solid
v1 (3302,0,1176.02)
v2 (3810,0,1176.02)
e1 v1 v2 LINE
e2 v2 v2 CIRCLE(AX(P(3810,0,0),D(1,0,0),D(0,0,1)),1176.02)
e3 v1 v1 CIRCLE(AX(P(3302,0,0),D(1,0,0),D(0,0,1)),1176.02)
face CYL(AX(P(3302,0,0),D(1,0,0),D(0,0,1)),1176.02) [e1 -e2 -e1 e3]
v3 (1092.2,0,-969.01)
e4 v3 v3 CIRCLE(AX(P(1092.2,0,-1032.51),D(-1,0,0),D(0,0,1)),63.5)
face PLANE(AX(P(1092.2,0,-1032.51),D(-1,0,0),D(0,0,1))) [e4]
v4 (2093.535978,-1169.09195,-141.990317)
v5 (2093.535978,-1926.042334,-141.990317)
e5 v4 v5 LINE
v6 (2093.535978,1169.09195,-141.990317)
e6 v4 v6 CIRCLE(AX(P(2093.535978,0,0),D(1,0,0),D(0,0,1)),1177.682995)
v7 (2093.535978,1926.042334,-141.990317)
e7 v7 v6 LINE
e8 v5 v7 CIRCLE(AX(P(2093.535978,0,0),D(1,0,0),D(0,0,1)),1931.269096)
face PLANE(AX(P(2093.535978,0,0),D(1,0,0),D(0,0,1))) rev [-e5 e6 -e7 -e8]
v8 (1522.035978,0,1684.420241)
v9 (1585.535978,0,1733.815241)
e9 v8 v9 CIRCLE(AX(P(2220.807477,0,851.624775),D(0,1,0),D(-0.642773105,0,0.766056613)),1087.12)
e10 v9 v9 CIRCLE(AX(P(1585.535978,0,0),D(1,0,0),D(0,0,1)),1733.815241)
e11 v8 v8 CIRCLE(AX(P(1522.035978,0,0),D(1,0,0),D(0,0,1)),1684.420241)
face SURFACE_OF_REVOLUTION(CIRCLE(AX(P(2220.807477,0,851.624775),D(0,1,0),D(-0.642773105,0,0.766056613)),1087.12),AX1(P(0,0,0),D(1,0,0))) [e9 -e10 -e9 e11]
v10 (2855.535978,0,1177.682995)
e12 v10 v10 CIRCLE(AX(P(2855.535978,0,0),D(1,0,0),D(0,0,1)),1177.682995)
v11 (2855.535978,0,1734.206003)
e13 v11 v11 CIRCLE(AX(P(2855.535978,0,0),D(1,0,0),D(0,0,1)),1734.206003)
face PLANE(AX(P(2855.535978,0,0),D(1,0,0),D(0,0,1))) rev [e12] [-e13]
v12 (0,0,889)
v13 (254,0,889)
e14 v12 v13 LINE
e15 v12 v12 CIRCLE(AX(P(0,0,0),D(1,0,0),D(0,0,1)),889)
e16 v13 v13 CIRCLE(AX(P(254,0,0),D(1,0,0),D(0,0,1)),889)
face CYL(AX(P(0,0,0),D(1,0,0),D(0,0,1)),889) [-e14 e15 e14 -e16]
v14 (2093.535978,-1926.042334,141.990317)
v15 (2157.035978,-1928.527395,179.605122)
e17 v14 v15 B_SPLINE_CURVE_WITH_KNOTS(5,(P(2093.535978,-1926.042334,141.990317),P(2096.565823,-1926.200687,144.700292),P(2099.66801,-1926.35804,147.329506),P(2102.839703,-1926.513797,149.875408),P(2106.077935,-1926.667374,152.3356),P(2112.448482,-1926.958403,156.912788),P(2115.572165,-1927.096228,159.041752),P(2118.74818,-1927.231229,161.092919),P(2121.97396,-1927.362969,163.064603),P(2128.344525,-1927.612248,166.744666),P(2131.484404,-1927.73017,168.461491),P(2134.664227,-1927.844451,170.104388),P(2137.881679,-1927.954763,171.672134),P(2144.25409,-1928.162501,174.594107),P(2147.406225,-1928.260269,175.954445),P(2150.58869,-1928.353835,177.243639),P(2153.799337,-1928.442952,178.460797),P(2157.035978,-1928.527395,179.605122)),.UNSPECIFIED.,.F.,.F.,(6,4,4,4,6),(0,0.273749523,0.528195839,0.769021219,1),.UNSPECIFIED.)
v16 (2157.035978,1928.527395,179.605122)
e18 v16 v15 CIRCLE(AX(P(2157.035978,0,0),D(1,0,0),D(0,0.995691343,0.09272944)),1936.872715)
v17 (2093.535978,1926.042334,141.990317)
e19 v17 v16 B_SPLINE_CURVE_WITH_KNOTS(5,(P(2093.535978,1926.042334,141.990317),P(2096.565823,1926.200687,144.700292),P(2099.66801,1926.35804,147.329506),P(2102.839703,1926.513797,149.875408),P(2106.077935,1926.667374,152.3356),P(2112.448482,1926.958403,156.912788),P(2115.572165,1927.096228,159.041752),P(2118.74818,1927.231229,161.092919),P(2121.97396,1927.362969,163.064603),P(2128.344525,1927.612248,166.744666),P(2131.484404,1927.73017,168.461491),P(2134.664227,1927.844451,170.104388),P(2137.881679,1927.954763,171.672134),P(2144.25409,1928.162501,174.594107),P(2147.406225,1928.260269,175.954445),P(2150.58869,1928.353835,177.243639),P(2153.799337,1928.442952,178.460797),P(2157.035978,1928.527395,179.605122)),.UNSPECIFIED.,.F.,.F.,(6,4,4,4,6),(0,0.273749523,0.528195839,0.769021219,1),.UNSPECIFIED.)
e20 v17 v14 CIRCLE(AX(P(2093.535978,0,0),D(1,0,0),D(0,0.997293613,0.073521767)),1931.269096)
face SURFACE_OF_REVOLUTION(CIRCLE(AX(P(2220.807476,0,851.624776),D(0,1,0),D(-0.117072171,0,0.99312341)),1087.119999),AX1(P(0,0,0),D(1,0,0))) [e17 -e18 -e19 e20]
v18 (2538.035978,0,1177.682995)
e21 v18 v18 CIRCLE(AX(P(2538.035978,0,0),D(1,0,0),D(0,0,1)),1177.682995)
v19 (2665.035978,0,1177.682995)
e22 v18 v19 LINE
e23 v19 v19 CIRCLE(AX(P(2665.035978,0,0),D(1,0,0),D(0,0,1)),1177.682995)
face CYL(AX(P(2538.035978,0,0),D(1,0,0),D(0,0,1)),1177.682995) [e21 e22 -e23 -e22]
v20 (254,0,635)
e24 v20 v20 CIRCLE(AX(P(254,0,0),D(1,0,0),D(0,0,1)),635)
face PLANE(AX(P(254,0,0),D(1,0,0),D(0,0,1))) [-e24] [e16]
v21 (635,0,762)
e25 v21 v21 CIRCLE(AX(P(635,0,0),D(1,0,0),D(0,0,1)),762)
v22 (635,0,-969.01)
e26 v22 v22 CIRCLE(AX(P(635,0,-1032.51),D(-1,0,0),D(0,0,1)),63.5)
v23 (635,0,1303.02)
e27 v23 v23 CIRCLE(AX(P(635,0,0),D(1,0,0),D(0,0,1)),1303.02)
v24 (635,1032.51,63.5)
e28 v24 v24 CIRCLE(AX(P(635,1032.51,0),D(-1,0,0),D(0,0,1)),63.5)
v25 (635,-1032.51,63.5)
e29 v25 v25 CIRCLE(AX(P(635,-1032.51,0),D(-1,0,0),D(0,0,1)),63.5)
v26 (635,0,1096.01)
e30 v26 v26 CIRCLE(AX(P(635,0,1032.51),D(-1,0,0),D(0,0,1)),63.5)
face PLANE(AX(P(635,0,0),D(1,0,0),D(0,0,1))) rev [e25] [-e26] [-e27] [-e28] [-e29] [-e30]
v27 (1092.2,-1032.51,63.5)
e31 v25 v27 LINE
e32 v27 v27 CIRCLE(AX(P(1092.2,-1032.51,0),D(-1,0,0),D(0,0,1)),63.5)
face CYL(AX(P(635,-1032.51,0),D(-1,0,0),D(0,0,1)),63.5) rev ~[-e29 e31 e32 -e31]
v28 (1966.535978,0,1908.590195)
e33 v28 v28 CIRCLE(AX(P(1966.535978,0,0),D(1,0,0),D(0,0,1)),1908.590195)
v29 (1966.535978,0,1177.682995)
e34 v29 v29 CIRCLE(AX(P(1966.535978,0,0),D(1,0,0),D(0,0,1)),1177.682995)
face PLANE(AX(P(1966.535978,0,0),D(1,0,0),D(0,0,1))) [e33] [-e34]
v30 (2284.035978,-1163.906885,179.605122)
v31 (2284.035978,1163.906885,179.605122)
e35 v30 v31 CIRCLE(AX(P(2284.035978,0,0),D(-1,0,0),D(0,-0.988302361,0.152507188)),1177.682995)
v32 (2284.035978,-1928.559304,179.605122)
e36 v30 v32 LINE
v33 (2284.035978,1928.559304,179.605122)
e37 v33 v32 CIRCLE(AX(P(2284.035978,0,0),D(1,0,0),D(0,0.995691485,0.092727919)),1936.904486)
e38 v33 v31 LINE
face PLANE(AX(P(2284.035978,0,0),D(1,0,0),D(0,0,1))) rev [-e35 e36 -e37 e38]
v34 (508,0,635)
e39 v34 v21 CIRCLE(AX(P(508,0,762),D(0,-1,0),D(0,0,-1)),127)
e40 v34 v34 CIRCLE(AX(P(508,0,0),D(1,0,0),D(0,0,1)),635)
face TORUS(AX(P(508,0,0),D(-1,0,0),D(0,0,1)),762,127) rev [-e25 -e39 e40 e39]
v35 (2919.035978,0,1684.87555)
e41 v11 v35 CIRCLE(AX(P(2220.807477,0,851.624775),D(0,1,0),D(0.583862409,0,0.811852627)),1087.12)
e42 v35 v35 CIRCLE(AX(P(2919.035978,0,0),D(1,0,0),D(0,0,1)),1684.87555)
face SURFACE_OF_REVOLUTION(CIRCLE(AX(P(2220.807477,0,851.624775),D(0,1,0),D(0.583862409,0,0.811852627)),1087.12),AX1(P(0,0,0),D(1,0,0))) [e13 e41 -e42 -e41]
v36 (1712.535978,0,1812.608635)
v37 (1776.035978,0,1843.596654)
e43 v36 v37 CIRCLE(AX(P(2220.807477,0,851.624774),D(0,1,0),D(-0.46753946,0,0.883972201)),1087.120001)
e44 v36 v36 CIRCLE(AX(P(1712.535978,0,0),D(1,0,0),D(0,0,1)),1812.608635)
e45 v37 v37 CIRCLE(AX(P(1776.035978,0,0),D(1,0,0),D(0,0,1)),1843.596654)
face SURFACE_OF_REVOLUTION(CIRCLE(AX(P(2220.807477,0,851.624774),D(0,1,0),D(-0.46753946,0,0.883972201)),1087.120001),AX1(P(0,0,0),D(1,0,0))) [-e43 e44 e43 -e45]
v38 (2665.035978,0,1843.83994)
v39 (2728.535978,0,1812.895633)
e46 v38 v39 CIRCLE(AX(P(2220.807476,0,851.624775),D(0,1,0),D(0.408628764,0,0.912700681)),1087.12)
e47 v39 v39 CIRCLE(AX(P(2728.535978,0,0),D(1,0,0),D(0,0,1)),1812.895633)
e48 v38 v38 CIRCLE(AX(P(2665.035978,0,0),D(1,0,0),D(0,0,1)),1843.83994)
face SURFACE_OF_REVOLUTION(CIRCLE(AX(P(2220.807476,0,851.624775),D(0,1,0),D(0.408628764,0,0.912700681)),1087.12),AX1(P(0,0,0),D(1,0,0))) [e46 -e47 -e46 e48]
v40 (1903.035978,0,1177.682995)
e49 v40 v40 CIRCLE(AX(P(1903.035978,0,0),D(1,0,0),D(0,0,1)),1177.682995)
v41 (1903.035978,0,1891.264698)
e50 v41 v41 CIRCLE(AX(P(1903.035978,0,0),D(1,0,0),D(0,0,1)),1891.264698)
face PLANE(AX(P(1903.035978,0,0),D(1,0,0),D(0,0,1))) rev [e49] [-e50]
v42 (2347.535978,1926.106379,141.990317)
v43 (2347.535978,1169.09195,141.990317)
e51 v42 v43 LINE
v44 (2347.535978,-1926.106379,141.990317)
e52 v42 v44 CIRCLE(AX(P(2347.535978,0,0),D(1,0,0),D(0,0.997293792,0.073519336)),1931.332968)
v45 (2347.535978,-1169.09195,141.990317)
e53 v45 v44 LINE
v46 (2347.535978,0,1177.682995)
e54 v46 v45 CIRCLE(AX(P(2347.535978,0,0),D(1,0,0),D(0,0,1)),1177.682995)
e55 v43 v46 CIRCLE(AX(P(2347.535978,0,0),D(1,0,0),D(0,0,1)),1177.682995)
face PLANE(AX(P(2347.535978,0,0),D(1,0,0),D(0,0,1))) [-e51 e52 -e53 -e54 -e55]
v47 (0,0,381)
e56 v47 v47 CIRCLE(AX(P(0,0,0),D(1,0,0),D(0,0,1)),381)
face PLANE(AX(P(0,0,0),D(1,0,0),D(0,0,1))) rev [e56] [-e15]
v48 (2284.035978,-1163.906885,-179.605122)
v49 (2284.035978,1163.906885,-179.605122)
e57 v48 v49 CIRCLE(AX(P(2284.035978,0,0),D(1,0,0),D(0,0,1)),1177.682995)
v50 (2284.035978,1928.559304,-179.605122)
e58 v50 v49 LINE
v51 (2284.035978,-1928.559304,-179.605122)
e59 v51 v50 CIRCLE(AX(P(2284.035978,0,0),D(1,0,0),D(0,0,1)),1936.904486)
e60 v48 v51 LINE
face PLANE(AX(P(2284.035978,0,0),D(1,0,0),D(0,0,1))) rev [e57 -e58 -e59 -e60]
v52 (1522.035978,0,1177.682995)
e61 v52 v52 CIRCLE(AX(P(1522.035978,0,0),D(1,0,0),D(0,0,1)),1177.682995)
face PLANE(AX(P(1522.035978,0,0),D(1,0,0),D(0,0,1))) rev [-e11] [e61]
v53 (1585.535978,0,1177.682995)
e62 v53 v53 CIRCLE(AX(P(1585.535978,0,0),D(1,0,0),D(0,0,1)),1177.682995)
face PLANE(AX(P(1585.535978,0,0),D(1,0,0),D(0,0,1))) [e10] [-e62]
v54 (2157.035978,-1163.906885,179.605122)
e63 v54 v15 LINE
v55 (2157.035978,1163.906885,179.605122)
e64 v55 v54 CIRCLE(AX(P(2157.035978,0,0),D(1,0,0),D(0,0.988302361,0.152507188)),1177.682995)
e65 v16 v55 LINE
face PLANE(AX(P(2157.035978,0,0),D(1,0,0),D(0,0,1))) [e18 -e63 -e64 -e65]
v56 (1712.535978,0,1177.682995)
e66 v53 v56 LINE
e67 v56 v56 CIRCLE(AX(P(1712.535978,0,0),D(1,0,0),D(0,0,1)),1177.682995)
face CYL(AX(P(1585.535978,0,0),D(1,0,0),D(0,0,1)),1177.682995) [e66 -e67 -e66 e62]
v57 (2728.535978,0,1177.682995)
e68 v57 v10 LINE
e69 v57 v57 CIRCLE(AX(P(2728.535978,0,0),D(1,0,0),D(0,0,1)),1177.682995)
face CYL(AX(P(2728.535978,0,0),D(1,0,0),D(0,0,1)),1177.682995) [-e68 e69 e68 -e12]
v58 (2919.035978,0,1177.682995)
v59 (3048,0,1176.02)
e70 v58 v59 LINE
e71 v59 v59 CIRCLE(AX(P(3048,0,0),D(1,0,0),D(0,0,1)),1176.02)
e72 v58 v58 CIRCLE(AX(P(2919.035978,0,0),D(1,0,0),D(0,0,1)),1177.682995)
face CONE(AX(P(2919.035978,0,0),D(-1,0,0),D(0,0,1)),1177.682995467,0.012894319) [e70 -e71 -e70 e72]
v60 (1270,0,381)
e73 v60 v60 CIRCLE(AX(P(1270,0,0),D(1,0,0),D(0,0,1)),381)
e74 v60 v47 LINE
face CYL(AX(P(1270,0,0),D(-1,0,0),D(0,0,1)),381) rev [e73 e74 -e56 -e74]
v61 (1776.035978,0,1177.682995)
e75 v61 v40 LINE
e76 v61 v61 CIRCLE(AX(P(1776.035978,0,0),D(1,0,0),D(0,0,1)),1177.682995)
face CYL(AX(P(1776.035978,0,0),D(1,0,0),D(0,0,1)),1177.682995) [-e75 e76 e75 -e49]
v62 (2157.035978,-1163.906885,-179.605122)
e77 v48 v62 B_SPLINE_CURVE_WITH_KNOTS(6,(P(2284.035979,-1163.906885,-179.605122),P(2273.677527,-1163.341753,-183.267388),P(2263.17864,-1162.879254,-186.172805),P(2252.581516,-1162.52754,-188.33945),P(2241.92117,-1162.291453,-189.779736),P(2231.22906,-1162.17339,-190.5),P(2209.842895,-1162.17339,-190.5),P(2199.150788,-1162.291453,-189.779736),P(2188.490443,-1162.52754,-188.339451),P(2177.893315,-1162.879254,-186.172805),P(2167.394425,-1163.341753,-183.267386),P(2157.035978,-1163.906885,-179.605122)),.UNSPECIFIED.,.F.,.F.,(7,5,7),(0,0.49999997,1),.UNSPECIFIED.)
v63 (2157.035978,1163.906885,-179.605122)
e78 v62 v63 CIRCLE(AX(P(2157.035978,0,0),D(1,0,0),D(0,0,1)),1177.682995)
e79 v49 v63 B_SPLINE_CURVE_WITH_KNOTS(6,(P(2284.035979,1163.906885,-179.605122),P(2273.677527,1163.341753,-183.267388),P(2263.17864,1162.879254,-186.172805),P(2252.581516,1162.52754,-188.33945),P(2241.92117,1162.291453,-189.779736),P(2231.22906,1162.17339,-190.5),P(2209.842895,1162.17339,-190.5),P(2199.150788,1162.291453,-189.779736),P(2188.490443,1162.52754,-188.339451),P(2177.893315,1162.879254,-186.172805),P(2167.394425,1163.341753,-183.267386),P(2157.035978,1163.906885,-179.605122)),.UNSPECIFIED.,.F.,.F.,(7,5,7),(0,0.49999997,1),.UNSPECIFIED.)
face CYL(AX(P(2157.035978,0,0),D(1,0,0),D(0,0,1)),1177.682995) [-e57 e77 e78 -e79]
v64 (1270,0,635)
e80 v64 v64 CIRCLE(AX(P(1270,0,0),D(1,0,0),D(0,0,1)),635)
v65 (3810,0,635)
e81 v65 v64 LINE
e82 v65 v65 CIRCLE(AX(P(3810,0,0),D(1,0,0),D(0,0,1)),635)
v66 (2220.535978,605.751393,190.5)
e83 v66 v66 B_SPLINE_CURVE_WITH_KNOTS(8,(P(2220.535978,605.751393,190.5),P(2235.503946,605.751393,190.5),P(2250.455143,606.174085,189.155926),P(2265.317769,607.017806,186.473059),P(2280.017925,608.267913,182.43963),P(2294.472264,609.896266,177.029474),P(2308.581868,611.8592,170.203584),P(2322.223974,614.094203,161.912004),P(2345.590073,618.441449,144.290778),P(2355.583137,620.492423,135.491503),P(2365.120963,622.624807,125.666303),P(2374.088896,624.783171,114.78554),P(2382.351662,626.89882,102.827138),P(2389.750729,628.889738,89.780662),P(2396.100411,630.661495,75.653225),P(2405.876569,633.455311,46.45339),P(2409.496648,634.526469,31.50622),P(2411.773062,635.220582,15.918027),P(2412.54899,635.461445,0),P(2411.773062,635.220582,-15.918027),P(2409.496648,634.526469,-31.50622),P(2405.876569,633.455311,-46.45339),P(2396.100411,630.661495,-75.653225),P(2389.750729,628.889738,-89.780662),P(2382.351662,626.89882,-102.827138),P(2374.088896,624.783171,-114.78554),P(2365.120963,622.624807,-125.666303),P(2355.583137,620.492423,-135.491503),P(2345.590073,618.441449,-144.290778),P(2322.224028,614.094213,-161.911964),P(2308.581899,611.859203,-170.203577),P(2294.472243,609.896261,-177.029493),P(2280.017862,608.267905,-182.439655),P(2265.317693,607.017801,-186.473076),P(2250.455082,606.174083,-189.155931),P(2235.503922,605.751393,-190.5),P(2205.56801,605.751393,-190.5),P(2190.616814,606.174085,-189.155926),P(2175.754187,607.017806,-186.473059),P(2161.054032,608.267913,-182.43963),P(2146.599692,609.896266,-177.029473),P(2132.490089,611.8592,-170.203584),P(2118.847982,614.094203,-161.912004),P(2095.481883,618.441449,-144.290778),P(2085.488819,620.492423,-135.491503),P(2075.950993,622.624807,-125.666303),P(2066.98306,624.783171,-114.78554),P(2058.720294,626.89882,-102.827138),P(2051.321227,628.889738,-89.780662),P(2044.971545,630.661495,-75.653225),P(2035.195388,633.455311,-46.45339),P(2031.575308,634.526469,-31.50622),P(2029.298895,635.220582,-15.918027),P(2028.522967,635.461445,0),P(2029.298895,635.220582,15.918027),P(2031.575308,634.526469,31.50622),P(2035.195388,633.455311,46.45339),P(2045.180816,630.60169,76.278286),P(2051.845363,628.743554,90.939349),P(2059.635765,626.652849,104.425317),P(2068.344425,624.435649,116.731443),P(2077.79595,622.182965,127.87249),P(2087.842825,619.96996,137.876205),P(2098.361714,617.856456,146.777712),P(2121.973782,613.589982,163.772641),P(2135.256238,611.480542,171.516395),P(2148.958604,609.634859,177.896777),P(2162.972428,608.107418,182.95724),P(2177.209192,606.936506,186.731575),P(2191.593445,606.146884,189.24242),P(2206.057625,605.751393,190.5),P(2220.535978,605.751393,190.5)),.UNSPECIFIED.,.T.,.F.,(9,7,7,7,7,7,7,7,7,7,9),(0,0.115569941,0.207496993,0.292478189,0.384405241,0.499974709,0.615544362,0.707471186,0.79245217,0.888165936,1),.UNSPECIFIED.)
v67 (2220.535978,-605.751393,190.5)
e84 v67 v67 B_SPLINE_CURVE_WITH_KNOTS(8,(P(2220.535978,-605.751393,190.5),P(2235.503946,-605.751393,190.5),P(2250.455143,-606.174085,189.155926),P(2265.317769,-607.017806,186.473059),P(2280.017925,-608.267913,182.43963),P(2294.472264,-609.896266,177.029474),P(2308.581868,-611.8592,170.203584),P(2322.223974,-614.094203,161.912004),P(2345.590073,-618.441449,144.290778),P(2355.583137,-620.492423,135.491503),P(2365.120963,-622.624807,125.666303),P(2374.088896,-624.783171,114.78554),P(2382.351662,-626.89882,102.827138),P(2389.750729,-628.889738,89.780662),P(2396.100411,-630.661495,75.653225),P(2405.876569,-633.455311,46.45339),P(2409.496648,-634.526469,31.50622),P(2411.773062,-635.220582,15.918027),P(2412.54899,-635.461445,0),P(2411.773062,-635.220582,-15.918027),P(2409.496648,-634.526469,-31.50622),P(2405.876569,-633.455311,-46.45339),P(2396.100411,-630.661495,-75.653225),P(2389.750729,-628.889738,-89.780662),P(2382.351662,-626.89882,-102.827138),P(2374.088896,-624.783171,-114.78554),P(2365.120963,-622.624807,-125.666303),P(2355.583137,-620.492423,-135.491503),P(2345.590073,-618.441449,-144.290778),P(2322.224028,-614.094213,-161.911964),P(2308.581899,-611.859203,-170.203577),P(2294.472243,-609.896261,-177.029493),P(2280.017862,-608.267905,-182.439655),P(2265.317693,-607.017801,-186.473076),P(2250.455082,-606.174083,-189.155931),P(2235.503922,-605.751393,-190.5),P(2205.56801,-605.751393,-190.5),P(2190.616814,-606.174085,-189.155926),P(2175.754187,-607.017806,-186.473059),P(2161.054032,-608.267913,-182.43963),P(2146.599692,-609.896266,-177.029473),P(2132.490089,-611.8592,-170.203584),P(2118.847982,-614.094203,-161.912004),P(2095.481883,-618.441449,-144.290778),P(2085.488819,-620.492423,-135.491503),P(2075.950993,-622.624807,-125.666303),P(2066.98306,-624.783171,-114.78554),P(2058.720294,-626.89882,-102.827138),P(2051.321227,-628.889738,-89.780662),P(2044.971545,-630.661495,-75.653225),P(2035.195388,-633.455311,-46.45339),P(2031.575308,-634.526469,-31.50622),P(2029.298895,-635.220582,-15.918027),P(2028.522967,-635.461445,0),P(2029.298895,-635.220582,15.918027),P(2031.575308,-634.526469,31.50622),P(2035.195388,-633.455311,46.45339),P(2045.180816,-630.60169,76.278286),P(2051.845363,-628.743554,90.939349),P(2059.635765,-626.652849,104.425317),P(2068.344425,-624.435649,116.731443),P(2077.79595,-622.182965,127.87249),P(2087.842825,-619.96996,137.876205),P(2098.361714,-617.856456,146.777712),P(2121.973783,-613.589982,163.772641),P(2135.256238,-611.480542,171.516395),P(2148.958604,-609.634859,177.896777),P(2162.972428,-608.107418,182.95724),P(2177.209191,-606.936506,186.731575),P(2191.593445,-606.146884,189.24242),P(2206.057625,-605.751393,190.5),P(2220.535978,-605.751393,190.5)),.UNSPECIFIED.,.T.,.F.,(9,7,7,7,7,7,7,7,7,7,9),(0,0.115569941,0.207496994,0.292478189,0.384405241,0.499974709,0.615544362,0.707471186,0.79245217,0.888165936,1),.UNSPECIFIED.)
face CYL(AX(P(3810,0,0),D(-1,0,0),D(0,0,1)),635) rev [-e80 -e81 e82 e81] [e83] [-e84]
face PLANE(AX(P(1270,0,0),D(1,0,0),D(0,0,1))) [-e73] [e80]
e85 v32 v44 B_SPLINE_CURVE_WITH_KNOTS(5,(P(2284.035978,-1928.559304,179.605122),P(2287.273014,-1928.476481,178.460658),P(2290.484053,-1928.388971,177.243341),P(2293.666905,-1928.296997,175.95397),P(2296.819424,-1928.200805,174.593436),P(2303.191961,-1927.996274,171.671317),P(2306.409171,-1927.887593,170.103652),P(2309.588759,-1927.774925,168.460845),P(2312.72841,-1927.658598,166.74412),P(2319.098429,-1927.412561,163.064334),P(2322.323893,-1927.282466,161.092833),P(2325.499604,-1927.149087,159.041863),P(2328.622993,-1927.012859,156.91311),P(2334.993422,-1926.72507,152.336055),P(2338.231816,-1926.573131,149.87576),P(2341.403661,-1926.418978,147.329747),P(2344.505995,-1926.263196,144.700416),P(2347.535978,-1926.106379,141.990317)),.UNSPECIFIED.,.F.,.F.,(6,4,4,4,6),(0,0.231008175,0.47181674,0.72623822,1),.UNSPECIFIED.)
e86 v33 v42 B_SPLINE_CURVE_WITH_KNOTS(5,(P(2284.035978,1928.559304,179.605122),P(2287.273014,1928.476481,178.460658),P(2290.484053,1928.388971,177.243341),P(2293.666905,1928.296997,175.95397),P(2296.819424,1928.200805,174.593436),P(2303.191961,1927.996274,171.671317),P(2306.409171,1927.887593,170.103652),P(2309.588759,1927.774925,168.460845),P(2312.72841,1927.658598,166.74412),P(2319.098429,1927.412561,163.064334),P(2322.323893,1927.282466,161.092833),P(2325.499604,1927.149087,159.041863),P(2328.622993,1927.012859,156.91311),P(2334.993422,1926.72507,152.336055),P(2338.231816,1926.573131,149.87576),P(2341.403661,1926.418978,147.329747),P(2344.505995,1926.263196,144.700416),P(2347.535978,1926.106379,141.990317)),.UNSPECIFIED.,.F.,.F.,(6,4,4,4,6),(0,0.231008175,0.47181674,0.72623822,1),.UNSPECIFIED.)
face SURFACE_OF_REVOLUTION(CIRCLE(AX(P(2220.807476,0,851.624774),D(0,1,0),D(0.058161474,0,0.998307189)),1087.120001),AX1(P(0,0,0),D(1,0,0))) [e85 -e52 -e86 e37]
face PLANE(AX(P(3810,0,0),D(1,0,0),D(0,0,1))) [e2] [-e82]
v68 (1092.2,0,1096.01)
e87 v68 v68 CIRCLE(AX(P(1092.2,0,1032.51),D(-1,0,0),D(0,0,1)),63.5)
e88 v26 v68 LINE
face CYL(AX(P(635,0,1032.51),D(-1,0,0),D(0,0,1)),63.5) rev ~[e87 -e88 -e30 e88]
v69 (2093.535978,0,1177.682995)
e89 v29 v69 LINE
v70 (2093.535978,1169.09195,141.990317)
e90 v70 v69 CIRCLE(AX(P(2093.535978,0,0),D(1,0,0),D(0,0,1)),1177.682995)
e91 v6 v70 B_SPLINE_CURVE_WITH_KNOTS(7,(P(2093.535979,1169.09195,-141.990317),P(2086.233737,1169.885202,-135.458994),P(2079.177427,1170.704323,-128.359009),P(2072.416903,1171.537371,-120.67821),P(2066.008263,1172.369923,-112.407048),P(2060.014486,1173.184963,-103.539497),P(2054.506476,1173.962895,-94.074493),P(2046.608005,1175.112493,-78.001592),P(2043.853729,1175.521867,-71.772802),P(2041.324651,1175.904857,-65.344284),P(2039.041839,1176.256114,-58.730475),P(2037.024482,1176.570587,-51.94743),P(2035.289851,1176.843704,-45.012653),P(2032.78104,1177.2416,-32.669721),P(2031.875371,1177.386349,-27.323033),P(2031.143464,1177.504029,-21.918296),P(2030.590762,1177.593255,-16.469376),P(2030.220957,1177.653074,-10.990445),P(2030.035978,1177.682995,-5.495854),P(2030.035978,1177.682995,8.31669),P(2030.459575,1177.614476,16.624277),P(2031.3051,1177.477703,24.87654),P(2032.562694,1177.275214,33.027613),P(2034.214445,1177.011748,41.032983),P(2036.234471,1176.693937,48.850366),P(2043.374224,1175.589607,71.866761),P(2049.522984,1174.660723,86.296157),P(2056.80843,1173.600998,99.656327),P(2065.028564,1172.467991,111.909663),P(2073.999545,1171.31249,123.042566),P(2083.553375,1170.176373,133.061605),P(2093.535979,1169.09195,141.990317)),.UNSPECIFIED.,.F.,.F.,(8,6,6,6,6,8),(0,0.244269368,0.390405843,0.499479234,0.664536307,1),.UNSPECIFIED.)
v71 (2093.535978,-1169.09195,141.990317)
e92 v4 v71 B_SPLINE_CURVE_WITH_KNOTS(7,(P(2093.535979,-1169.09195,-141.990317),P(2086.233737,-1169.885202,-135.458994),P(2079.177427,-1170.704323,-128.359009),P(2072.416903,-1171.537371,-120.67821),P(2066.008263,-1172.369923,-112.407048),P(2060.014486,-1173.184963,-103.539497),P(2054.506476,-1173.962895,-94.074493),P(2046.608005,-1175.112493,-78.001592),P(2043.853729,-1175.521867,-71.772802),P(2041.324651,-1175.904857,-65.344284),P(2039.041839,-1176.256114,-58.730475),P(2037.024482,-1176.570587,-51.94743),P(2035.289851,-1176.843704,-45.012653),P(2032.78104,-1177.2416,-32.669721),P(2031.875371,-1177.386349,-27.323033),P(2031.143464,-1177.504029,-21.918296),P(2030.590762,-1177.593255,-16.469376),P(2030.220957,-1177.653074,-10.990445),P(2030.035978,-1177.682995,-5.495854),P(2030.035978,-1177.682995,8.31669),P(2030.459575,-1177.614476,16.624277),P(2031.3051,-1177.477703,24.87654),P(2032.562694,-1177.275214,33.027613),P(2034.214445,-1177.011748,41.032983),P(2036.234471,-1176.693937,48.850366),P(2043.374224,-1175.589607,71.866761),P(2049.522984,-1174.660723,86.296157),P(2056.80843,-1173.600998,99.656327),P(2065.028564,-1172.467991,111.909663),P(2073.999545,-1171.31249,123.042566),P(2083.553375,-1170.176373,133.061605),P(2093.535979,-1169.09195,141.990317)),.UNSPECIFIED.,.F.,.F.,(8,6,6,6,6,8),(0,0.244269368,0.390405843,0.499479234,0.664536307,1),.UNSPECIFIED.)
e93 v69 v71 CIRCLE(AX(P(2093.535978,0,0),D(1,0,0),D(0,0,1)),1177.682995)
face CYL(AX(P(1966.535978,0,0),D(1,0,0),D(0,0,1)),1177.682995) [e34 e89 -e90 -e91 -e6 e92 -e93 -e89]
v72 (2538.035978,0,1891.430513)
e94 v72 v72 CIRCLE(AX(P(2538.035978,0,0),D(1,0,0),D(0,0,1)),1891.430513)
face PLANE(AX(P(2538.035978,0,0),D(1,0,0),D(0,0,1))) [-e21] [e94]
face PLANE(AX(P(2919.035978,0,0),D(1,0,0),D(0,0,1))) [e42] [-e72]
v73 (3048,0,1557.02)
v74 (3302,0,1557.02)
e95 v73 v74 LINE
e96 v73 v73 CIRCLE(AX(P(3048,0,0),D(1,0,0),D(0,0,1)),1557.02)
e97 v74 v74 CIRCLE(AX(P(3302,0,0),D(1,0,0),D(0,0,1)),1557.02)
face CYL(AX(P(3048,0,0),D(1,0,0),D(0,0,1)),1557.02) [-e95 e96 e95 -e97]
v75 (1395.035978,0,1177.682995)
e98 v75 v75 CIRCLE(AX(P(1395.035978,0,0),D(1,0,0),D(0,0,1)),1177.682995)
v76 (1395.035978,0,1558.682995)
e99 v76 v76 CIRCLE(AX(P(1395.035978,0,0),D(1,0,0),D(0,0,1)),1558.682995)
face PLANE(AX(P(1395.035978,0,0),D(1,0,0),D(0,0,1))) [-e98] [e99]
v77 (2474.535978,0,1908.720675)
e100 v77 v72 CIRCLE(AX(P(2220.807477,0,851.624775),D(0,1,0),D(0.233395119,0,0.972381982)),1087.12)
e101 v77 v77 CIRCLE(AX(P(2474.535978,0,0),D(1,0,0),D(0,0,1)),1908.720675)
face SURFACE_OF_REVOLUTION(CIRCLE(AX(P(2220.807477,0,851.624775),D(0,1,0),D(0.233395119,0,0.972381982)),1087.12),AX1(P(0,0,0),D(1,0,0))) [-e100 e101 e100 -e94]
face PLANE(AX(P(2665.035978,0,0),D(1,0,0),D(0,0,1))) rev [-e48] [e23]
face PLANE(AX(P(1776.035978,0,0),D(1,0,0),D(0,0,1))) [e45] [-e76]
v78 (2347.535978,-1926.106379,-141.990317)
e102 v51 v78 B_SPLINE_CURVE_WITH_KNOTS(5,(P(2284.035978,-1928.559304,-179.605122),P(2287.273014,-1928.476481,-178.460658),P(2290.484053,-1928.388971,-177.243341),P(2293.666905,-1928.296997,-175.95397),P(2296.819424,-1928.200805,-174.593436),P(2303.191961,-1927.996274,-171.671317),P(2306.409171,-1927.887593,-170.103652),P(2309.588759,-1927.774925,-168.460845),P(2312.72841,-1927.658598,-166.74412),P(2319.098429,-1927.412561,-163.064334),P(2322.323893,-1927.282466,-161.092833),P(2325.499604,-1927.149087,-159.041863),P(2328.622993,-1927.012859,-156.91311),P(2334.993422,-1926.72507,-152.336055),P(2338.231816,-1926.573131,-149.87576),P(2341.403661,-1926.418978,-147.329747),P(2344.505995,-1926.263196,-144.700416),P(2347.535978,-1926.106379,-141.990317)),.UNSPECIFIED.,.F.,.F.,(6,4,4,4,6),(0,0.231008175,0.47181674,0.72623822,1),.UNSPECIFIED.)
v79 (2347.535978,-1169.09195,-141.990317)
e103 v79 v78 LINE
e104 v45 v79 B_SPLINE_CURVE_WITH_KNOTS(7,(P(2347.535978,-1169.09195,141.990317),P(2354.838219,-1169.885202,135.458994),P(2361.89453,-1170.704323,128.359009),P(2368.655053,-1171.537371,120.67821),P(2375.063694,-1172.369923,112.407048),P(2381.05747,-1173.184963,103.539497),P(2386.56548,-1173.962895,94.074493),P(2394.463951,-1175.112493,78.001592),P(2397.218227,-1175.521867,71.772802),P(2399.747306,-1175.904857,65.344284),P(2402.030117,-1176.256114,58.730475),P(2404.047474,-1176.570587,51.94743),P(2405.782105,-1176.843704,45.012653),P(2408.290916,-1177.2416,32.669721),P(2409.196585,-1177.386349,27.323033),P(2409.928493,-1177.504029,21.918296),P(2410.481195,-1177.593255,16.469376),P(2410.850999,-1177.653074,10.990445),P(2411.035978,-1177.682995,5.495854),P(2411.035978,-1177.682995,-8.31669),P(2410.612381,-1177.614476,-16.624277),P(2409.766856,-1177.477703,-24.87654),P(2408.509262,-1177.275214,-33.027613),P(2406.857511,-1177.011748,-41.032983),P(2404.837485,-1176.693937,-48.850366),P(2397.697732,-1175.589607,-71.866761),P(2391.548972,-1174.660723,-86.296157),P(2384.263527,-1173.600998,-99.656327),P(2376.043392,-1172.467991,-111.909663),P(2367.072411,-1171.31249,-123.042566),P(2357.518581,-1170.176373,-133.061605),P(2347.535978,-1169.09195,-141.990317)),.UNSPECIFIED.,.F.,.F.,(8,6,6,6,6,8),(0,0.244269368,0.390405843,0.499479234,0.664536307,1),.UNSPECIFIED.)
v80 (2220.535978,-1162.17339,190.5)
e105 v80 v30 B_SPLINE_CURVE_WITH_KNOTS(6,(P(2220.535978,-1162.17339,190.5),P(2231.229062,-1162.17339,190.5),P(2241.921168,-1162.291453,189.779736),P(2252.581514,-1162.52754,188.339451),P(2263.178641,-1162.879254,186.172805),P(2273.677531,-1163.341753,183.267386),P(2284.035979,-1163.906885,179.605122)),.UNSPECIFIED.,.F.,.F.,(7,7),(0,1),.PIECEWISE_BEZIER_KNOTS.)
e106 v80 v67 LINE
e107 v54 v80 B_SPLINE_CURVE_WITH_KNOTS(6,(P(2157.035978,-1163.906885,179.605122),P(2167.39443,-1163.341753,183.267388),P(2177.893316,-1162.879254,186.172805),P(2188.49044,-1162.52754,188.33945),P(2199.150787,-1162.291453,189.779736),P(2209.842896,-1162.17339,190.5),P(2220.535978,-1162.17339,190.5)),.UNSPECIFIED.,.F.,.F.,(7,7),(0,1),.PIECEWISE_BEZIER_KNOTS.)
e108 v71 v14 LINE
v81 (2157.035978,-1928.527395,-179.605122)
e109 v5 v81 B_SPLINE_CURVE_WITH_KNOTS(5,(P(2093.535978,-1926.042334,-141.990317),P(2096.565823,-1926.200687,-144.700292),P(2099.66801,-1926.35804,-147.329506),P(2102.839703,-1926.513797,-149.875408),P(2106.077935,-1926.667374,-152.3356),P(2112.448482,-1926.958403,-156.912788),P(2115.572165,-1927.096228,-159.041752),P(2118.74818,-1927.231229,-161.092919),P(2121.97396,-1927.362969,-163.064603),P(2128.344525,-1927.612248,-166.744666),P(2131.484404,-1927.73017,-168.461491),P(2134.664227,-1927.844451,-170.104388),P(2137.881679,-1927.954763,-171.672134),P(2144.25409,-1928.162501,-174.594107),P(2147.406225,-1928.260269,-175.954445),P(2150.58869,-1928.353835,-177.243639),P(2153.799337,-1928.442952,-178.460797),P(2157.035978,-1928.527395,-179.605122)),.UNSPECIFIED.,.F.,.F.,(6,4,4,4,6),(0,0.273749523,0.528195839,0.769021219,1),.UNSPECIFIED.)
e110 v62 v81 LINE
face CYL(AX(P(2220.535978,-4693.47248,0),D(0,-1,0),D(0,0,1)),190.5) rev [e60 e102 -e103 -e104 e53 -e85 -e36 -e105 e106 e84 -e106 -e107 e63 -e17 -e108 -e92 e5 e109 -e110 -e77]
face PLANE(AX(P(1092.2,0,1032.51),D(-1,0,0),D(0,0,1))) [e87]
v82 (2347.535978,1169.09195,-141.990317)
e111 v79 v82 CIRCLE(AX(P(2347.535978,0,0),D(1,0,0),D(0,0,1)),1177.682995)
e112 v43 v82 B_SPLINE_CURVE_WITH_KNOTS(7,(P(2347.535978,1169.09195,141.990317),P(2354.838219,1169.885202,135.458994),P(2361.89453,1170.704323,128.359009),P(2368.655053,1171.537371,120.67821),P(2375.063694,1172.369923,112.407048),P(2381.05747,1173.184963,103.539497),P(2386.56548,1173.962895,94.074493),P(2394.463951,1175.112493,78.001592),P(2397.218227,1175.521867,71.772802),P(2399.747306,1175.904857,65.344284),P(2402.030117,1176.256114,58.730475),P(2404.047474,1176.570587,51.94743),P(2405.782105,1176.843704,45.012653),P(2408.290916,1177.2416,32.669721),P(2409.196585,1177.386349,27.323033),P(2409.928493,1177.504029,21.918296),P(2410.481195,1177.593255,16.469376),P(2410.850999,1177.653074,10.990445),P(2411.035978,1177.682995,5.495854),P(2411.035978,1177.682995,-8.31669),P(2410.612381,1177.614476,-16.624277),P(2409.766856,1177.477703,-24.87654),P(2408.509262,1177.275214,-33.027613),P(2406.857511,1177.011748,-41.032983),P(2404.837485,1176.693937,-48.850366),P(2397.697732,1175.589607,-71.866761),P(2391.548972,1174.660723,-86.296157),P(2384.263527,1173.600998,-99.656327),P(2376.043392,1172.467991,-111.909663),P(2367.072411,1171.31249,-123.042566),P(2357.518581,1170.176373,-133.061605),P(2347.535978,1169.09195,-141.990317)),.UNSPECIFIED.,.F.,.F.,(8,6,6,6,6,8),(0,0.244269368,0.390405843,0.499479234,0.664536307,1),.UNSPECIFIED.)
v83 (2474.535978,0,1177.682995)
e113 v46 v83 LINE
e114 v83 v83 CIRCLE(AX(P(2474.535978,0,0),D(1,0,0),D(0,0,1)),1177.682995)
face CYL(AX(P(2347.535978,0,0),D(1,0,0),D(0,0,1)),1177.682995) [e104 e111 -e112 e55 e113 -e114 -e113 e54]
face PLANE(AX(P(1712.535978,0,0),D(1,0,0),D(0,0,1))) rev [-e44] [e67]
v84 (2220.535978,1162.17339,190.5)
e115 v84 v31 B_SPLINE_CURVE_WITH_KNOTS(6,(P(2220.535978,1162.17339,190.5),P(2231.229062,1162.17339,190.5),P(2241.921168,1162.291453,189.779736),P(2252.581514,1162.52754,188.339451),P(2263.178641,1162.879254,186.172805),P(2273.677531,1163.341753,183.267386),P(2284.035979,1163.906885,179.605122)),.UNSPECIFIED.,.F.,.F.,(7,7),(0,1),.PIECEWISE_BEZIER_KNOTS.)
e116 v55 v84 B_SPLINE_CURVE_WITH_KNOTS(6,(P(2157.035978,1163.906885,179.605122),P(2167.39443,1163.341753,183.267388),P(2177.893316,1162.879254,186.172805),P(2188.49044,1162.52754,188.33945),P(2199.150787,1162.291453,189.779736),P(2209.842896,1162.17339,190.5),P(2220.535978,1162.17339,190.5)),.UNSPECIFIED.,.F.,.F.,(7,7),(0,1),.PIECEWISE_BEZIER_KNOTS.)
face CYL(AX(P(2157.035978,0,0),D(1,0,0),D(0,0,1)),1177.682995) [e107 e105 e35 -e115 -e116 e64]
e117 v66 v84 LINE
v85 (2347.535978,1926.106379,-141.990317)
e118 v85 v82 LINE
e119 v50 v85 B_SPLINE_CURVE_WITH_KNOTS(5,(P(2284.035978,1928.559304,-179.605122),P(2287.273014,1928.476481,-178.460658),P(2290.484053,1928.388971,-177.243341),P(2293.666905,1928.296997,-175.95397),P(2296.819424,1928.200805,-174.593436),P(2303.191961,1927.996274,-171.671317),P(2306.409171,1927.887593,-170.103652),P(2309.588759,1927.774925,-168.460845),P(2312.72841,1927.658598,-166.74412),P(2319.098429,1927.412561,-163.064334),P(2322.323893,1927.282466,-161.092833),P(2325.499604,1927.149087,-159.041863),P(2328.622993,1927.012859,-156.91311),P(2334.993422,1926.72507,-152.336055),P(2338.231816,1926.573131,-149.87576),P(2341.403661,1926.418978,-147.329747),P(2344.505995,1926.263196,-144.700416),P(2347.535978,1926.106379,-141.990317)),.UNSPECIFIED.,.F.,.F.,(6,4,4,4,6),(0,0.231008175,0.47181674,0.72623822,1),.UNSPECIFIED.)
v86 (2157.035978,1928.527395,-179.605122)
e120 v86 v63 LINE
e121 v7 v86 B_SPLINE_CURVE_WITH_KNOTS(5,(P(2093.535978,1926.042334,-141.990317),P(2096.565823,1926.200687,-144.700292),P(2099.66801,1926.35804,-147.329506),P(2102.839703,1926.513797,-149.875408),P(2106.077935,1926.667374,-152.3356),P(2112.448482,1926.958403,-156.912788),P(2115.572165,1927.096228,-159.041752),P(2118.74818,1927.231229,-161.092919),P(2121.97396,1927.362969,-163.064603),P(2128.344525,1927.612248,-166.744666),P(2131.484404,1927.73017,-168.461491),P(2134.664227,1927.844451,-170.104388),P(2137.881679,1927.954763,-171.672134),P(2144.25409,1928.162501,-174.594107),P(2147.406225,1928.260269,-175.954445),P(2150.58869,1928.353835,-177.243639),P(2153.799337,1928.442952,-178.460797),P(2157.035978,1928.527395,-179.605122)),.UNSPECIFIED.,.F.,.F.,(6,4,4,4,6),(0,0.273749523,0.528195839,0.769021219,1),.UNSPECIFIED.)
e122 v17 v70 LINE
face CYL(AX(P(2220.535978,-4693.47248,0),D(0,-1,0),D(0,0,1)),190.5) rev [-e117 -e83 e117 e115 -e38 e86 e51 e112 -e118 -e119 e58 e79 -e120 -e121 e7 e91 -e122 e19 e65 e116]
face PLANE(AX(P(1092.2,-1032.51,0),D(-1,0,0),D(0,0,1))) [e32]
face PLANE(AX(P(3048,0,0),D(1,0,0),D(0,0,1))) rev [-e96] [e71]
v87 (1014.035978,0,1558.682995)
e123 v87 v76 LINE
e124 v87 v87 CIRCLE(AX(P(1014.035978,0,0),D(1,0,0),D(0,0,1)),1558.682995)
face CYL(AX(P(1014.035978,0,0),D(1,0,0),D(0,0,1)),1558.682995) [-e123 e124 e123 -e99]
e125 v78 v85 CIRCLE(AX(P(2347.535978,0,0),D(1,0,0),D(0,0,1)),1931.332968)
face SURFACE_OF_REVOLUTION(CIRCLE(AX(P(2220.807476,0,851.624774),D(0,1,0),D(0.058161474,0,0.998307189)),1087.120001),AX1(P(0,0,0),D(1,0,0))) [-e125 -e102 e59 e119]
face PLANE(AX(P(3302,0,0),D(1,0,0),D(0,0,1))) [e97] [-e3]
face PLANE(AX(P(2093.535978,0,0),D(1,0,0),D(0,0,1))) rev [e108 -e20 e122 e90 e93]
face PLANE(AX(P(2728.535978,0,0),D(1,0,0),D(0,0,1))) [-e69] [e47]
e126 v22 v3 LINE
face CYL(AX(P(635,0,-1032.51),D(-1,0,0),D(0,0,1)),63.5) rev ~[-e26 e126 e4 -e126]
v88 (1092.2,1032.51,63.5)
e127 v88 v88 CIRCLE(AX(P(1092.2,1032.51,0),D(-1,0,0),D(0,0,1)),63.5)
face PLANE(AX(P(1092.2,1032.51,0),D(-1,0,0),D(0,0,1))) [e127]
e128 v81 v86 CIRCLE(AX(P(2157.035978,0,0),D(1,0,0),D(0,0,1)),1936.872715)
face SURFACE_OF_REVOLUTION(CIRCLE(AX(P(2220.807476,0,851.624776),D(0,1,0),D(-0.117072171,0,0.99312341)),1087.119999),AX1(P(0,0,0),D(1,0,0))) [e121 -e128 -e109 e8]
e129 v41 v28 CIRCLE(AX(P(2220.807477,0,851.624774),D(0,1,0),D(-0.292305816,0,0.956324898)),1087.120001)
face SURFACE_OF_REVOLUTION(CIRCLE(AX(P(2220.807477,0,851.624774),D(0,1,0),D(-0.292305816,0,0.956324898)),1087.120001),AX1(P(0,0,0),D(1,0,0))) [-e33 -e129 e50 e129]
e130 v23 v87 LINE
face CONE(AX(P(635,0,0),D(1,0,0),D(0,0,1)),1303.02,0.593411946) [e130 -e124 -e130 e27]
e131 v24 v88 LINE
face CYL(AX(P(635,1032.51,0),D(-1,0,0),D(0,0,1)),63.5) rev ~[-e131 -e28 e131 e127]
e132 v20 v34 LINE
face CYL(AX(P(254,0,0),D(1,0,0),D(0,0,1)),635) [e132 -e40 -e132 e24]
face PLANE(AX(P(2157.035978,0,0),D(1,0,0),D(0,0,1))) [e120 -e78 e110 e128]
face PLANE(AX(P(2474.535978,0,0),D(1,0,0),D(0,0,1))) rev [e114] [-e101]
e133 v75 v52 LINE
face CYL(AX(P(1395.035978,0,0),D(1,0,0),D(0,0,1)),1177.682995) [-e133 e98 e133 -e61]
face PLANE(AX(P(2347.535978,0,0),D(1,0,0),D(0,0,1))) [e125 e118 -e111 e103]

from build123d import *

# Parameters (mm, degrees)
CUT_EXTRUDE1_DEPTH      = 4693.472480102
CUT_EXTRUDE1_DEPTH_BACK = 4693.472480102
SKETCH6_R               = 190.5
SKETCH3_R               = 63.5
CUT_EXTRUDE2_DEPTH      = 457.2
SKETCH8_R               = 63.5
CUT_EXTRUDE3_DEPTH      = 457.2


with BuildPart() as part:
    # Sketch2 → Revolve1 (revolve)
    with BuildSketch(Plane.XY, mode=Mode.PRIVATE) as revolve1_sk:
        with BuildLine():
            Line((0, 381), (0, 889))
            Line((0, 889), (254, 889))
            Line((254, 889), (254, 635))
            Line((254, 635), (508, 635))
            ThreePointArc((508, 635), (597.802561211, 672.197438789), (635, 762))
            Line((635, 762), (635, 1303.02))
            Line((635, 1303.02), (1014.035978172, 1558.682995467))
            Line((1014.035978172, 1558.682995467), (1395.035978172, 1558.682995467))
            Line((1395.035978172, 1558.682995467), (1395.035978172, 1177.682995467))
            Line((1395.035978172, 1177.682995467), (1522.035978172, 1177.682995467))
            Line((1522.035978172, 1177.682995467), (1522.035978172, 1684.420240709))
            ThreePointArc((1522.035978172, 1684.420240709), (1553.328903255, 1709.705335809), (1585.535978172, 1733.815240824))
            Line((1585.535978172, 1733.815240824), (1585.535978172, 1177.682995467))
            Line((1585.535978172, 1177.682995467), (1712.535978172, 1177.682995467))
            Line((1712.535978172, 1177.682995467), (1712.535978172, 1812.608634678))
            ThreePointArc((1712.535978172, 1812.608634678), (1744.034152262, 1828.618680747), (1776.035978172, 1843.59665406))
            Line((1776.035978172, 1843.59665406), (1776.035978172, 1177.682995467))
            Line((1776.035978172, 1177.682995467), (1903.035978172, 1177.682995467))
            Line((1903.035978172, 1177.682995467), (1903.035978172, 1891.264697959))
            ThreePointArc((1903.035978172, 1891.264697959), (1934.654823673, 1900.408143402), (1966.535978172, 1908.590195292))
            Line((1966.535978172, 1908.590195292), (1966.535978172, 1177.682995467))
            Line((1966.535978172, 1177.682995467), (2093.535978172, 1177.682995467))
            Line((2093.535978172, 1177.682995467), (2093.535978172, 1931.26909618))
            ThreePointArc((2093.535978172, 1931.26909618), (2125.244896073, 1934.536446265), (2157.035978172, 1936.87271466))
            Line((2157.035978172, 1936.87271466), (2157.035978172, 1177.682995467))
            Line((2157.035978172, 1177.682995467), (2284.035978172, 1177.682995467))
            Line((2284.035978172, 1177.682995467), (2284.035978172, 1936.904485995))
            ThreePointArc((2284.035978172, 1936.904485995), (2315.82682313, 1934.584247133), (2347.535978172, 1931.332967697))
            Line((2347.535978172, 1931.332967697), (2347.535978172, 1177.682995467))
            Line((2347.535978172, 1177.682995467), (2474.535978172, 1177.682995467))
            Line((2474.535978172, 1177.682995467), (2474.535978172, 1908.720675065))
            ThreePointArc((2474.535978172, 1908.720675065), (2506.416846699, 1900.556222782), (2538.035978172, 1891.430512729))
            Line((2538.035978172, 1891.430512729), (2538.035978172, 1177.682995467))
            Line((2538.035978172, 1177.682995467), (2665.035978172, 1177.682995467))
            Line((2665.035978172, 1177.682995467), (2665.035978172, 1843.839939553))
            ThreePointArc((2665.035978172, 1843.839939553), (2697.037380618, 1828.883682805), (2728.535978172, 1812.895633314))
            Line((2728.535978172, 1812.895633314), (2728.535978172, 1177.682995467))
            Line((2728.535978172, 1177.682995467), (2855.535978172, 1177.682995467))
            Line((2855.535978172, 1177.682995467), (2855.535978172, 1734.206002761))
            ThreePointArc((2855.535978172, 1734.206002761), (2887.74223087, 1710.12808183), (2919.035978172, 1684.875549899))
            Line((2919.035978172, 1684.875549899), (2919.035978172, 1177.682995467))
            Line((2919.035978172, 1177.682995467), (3048, 1176.02))
            Line((3048, 1176.02), (3048, 1557.02))
            Line((3048, 1557.02), (3302, 1557.02))
            Line((3302, 1557.02), (3302, 1176.02))
            Line((3302, 1176.02), (3810, 1176.02))
            Line((3810, 1176.02), (3810, 635))
            Line((3810, 635), (1270, 635))
            Line((1270, 635), (1270, 381))
            Line((1270, 381), (0, 381))
        make_face()
    revolve(revolve1_sk.sketch.rotate(Axis((0, 0, 0), (1, 0, 0)), 90), axis=Axis((0, 0, 0), (1, 0, 0)))

    # Sketch6 → Cut-Extrude1 (cut, two sides: drawn at the far end of the back side and taken through both)
    with BuildSketch(Plane(origin=(0, 0, 0), x_dir=(1, 0, 0), z_dir=(0, 1, 0)).offset(-CUT_EXTRUDE1_DEPTH_BACK)):
        with Locations(Location((2220.535978172, 0, 0), (0, 0, 270))):
            Circle(SKETCH6_R)
    extrude(amount=CUT_EXTRUDE1_DEPTH + CUT_EXTRUDE1_DEPTH_BACK, mode=Mode.SUBTRACT)

    # Sketch3 → Cut-Extrude2 (cut)
    with BuildSketch(Plane.ZY.offset(-635)):
        with Locations((-1032.51, 0)):
            Circle(SKETCH3_R)
    extrude(amount=-CUT_EXTRUDE2_DEPTH, mode=Mode.SUBTRACT)

    # Sketch8 → Cut-Extrude3 (cut)
    with BuildSketch(Plane.ZY.offset(-635)):
        with Locations((1032.51, 0)):
            Circle(SKETCH8_R)
        with Locations((0, 1032.51)):
            Circle(SKETCH8_R)
        with Locations((0, -1032.51)):
            Circle(SKETCH8_R)
        with Locations((-1032.51, 0)):
            Circle(SKETCH8_R)
    extrude(amount=-CUT_EXTRUDE3_DEPTH, mode=Mode.SUBTRACT)


solid = part.part
